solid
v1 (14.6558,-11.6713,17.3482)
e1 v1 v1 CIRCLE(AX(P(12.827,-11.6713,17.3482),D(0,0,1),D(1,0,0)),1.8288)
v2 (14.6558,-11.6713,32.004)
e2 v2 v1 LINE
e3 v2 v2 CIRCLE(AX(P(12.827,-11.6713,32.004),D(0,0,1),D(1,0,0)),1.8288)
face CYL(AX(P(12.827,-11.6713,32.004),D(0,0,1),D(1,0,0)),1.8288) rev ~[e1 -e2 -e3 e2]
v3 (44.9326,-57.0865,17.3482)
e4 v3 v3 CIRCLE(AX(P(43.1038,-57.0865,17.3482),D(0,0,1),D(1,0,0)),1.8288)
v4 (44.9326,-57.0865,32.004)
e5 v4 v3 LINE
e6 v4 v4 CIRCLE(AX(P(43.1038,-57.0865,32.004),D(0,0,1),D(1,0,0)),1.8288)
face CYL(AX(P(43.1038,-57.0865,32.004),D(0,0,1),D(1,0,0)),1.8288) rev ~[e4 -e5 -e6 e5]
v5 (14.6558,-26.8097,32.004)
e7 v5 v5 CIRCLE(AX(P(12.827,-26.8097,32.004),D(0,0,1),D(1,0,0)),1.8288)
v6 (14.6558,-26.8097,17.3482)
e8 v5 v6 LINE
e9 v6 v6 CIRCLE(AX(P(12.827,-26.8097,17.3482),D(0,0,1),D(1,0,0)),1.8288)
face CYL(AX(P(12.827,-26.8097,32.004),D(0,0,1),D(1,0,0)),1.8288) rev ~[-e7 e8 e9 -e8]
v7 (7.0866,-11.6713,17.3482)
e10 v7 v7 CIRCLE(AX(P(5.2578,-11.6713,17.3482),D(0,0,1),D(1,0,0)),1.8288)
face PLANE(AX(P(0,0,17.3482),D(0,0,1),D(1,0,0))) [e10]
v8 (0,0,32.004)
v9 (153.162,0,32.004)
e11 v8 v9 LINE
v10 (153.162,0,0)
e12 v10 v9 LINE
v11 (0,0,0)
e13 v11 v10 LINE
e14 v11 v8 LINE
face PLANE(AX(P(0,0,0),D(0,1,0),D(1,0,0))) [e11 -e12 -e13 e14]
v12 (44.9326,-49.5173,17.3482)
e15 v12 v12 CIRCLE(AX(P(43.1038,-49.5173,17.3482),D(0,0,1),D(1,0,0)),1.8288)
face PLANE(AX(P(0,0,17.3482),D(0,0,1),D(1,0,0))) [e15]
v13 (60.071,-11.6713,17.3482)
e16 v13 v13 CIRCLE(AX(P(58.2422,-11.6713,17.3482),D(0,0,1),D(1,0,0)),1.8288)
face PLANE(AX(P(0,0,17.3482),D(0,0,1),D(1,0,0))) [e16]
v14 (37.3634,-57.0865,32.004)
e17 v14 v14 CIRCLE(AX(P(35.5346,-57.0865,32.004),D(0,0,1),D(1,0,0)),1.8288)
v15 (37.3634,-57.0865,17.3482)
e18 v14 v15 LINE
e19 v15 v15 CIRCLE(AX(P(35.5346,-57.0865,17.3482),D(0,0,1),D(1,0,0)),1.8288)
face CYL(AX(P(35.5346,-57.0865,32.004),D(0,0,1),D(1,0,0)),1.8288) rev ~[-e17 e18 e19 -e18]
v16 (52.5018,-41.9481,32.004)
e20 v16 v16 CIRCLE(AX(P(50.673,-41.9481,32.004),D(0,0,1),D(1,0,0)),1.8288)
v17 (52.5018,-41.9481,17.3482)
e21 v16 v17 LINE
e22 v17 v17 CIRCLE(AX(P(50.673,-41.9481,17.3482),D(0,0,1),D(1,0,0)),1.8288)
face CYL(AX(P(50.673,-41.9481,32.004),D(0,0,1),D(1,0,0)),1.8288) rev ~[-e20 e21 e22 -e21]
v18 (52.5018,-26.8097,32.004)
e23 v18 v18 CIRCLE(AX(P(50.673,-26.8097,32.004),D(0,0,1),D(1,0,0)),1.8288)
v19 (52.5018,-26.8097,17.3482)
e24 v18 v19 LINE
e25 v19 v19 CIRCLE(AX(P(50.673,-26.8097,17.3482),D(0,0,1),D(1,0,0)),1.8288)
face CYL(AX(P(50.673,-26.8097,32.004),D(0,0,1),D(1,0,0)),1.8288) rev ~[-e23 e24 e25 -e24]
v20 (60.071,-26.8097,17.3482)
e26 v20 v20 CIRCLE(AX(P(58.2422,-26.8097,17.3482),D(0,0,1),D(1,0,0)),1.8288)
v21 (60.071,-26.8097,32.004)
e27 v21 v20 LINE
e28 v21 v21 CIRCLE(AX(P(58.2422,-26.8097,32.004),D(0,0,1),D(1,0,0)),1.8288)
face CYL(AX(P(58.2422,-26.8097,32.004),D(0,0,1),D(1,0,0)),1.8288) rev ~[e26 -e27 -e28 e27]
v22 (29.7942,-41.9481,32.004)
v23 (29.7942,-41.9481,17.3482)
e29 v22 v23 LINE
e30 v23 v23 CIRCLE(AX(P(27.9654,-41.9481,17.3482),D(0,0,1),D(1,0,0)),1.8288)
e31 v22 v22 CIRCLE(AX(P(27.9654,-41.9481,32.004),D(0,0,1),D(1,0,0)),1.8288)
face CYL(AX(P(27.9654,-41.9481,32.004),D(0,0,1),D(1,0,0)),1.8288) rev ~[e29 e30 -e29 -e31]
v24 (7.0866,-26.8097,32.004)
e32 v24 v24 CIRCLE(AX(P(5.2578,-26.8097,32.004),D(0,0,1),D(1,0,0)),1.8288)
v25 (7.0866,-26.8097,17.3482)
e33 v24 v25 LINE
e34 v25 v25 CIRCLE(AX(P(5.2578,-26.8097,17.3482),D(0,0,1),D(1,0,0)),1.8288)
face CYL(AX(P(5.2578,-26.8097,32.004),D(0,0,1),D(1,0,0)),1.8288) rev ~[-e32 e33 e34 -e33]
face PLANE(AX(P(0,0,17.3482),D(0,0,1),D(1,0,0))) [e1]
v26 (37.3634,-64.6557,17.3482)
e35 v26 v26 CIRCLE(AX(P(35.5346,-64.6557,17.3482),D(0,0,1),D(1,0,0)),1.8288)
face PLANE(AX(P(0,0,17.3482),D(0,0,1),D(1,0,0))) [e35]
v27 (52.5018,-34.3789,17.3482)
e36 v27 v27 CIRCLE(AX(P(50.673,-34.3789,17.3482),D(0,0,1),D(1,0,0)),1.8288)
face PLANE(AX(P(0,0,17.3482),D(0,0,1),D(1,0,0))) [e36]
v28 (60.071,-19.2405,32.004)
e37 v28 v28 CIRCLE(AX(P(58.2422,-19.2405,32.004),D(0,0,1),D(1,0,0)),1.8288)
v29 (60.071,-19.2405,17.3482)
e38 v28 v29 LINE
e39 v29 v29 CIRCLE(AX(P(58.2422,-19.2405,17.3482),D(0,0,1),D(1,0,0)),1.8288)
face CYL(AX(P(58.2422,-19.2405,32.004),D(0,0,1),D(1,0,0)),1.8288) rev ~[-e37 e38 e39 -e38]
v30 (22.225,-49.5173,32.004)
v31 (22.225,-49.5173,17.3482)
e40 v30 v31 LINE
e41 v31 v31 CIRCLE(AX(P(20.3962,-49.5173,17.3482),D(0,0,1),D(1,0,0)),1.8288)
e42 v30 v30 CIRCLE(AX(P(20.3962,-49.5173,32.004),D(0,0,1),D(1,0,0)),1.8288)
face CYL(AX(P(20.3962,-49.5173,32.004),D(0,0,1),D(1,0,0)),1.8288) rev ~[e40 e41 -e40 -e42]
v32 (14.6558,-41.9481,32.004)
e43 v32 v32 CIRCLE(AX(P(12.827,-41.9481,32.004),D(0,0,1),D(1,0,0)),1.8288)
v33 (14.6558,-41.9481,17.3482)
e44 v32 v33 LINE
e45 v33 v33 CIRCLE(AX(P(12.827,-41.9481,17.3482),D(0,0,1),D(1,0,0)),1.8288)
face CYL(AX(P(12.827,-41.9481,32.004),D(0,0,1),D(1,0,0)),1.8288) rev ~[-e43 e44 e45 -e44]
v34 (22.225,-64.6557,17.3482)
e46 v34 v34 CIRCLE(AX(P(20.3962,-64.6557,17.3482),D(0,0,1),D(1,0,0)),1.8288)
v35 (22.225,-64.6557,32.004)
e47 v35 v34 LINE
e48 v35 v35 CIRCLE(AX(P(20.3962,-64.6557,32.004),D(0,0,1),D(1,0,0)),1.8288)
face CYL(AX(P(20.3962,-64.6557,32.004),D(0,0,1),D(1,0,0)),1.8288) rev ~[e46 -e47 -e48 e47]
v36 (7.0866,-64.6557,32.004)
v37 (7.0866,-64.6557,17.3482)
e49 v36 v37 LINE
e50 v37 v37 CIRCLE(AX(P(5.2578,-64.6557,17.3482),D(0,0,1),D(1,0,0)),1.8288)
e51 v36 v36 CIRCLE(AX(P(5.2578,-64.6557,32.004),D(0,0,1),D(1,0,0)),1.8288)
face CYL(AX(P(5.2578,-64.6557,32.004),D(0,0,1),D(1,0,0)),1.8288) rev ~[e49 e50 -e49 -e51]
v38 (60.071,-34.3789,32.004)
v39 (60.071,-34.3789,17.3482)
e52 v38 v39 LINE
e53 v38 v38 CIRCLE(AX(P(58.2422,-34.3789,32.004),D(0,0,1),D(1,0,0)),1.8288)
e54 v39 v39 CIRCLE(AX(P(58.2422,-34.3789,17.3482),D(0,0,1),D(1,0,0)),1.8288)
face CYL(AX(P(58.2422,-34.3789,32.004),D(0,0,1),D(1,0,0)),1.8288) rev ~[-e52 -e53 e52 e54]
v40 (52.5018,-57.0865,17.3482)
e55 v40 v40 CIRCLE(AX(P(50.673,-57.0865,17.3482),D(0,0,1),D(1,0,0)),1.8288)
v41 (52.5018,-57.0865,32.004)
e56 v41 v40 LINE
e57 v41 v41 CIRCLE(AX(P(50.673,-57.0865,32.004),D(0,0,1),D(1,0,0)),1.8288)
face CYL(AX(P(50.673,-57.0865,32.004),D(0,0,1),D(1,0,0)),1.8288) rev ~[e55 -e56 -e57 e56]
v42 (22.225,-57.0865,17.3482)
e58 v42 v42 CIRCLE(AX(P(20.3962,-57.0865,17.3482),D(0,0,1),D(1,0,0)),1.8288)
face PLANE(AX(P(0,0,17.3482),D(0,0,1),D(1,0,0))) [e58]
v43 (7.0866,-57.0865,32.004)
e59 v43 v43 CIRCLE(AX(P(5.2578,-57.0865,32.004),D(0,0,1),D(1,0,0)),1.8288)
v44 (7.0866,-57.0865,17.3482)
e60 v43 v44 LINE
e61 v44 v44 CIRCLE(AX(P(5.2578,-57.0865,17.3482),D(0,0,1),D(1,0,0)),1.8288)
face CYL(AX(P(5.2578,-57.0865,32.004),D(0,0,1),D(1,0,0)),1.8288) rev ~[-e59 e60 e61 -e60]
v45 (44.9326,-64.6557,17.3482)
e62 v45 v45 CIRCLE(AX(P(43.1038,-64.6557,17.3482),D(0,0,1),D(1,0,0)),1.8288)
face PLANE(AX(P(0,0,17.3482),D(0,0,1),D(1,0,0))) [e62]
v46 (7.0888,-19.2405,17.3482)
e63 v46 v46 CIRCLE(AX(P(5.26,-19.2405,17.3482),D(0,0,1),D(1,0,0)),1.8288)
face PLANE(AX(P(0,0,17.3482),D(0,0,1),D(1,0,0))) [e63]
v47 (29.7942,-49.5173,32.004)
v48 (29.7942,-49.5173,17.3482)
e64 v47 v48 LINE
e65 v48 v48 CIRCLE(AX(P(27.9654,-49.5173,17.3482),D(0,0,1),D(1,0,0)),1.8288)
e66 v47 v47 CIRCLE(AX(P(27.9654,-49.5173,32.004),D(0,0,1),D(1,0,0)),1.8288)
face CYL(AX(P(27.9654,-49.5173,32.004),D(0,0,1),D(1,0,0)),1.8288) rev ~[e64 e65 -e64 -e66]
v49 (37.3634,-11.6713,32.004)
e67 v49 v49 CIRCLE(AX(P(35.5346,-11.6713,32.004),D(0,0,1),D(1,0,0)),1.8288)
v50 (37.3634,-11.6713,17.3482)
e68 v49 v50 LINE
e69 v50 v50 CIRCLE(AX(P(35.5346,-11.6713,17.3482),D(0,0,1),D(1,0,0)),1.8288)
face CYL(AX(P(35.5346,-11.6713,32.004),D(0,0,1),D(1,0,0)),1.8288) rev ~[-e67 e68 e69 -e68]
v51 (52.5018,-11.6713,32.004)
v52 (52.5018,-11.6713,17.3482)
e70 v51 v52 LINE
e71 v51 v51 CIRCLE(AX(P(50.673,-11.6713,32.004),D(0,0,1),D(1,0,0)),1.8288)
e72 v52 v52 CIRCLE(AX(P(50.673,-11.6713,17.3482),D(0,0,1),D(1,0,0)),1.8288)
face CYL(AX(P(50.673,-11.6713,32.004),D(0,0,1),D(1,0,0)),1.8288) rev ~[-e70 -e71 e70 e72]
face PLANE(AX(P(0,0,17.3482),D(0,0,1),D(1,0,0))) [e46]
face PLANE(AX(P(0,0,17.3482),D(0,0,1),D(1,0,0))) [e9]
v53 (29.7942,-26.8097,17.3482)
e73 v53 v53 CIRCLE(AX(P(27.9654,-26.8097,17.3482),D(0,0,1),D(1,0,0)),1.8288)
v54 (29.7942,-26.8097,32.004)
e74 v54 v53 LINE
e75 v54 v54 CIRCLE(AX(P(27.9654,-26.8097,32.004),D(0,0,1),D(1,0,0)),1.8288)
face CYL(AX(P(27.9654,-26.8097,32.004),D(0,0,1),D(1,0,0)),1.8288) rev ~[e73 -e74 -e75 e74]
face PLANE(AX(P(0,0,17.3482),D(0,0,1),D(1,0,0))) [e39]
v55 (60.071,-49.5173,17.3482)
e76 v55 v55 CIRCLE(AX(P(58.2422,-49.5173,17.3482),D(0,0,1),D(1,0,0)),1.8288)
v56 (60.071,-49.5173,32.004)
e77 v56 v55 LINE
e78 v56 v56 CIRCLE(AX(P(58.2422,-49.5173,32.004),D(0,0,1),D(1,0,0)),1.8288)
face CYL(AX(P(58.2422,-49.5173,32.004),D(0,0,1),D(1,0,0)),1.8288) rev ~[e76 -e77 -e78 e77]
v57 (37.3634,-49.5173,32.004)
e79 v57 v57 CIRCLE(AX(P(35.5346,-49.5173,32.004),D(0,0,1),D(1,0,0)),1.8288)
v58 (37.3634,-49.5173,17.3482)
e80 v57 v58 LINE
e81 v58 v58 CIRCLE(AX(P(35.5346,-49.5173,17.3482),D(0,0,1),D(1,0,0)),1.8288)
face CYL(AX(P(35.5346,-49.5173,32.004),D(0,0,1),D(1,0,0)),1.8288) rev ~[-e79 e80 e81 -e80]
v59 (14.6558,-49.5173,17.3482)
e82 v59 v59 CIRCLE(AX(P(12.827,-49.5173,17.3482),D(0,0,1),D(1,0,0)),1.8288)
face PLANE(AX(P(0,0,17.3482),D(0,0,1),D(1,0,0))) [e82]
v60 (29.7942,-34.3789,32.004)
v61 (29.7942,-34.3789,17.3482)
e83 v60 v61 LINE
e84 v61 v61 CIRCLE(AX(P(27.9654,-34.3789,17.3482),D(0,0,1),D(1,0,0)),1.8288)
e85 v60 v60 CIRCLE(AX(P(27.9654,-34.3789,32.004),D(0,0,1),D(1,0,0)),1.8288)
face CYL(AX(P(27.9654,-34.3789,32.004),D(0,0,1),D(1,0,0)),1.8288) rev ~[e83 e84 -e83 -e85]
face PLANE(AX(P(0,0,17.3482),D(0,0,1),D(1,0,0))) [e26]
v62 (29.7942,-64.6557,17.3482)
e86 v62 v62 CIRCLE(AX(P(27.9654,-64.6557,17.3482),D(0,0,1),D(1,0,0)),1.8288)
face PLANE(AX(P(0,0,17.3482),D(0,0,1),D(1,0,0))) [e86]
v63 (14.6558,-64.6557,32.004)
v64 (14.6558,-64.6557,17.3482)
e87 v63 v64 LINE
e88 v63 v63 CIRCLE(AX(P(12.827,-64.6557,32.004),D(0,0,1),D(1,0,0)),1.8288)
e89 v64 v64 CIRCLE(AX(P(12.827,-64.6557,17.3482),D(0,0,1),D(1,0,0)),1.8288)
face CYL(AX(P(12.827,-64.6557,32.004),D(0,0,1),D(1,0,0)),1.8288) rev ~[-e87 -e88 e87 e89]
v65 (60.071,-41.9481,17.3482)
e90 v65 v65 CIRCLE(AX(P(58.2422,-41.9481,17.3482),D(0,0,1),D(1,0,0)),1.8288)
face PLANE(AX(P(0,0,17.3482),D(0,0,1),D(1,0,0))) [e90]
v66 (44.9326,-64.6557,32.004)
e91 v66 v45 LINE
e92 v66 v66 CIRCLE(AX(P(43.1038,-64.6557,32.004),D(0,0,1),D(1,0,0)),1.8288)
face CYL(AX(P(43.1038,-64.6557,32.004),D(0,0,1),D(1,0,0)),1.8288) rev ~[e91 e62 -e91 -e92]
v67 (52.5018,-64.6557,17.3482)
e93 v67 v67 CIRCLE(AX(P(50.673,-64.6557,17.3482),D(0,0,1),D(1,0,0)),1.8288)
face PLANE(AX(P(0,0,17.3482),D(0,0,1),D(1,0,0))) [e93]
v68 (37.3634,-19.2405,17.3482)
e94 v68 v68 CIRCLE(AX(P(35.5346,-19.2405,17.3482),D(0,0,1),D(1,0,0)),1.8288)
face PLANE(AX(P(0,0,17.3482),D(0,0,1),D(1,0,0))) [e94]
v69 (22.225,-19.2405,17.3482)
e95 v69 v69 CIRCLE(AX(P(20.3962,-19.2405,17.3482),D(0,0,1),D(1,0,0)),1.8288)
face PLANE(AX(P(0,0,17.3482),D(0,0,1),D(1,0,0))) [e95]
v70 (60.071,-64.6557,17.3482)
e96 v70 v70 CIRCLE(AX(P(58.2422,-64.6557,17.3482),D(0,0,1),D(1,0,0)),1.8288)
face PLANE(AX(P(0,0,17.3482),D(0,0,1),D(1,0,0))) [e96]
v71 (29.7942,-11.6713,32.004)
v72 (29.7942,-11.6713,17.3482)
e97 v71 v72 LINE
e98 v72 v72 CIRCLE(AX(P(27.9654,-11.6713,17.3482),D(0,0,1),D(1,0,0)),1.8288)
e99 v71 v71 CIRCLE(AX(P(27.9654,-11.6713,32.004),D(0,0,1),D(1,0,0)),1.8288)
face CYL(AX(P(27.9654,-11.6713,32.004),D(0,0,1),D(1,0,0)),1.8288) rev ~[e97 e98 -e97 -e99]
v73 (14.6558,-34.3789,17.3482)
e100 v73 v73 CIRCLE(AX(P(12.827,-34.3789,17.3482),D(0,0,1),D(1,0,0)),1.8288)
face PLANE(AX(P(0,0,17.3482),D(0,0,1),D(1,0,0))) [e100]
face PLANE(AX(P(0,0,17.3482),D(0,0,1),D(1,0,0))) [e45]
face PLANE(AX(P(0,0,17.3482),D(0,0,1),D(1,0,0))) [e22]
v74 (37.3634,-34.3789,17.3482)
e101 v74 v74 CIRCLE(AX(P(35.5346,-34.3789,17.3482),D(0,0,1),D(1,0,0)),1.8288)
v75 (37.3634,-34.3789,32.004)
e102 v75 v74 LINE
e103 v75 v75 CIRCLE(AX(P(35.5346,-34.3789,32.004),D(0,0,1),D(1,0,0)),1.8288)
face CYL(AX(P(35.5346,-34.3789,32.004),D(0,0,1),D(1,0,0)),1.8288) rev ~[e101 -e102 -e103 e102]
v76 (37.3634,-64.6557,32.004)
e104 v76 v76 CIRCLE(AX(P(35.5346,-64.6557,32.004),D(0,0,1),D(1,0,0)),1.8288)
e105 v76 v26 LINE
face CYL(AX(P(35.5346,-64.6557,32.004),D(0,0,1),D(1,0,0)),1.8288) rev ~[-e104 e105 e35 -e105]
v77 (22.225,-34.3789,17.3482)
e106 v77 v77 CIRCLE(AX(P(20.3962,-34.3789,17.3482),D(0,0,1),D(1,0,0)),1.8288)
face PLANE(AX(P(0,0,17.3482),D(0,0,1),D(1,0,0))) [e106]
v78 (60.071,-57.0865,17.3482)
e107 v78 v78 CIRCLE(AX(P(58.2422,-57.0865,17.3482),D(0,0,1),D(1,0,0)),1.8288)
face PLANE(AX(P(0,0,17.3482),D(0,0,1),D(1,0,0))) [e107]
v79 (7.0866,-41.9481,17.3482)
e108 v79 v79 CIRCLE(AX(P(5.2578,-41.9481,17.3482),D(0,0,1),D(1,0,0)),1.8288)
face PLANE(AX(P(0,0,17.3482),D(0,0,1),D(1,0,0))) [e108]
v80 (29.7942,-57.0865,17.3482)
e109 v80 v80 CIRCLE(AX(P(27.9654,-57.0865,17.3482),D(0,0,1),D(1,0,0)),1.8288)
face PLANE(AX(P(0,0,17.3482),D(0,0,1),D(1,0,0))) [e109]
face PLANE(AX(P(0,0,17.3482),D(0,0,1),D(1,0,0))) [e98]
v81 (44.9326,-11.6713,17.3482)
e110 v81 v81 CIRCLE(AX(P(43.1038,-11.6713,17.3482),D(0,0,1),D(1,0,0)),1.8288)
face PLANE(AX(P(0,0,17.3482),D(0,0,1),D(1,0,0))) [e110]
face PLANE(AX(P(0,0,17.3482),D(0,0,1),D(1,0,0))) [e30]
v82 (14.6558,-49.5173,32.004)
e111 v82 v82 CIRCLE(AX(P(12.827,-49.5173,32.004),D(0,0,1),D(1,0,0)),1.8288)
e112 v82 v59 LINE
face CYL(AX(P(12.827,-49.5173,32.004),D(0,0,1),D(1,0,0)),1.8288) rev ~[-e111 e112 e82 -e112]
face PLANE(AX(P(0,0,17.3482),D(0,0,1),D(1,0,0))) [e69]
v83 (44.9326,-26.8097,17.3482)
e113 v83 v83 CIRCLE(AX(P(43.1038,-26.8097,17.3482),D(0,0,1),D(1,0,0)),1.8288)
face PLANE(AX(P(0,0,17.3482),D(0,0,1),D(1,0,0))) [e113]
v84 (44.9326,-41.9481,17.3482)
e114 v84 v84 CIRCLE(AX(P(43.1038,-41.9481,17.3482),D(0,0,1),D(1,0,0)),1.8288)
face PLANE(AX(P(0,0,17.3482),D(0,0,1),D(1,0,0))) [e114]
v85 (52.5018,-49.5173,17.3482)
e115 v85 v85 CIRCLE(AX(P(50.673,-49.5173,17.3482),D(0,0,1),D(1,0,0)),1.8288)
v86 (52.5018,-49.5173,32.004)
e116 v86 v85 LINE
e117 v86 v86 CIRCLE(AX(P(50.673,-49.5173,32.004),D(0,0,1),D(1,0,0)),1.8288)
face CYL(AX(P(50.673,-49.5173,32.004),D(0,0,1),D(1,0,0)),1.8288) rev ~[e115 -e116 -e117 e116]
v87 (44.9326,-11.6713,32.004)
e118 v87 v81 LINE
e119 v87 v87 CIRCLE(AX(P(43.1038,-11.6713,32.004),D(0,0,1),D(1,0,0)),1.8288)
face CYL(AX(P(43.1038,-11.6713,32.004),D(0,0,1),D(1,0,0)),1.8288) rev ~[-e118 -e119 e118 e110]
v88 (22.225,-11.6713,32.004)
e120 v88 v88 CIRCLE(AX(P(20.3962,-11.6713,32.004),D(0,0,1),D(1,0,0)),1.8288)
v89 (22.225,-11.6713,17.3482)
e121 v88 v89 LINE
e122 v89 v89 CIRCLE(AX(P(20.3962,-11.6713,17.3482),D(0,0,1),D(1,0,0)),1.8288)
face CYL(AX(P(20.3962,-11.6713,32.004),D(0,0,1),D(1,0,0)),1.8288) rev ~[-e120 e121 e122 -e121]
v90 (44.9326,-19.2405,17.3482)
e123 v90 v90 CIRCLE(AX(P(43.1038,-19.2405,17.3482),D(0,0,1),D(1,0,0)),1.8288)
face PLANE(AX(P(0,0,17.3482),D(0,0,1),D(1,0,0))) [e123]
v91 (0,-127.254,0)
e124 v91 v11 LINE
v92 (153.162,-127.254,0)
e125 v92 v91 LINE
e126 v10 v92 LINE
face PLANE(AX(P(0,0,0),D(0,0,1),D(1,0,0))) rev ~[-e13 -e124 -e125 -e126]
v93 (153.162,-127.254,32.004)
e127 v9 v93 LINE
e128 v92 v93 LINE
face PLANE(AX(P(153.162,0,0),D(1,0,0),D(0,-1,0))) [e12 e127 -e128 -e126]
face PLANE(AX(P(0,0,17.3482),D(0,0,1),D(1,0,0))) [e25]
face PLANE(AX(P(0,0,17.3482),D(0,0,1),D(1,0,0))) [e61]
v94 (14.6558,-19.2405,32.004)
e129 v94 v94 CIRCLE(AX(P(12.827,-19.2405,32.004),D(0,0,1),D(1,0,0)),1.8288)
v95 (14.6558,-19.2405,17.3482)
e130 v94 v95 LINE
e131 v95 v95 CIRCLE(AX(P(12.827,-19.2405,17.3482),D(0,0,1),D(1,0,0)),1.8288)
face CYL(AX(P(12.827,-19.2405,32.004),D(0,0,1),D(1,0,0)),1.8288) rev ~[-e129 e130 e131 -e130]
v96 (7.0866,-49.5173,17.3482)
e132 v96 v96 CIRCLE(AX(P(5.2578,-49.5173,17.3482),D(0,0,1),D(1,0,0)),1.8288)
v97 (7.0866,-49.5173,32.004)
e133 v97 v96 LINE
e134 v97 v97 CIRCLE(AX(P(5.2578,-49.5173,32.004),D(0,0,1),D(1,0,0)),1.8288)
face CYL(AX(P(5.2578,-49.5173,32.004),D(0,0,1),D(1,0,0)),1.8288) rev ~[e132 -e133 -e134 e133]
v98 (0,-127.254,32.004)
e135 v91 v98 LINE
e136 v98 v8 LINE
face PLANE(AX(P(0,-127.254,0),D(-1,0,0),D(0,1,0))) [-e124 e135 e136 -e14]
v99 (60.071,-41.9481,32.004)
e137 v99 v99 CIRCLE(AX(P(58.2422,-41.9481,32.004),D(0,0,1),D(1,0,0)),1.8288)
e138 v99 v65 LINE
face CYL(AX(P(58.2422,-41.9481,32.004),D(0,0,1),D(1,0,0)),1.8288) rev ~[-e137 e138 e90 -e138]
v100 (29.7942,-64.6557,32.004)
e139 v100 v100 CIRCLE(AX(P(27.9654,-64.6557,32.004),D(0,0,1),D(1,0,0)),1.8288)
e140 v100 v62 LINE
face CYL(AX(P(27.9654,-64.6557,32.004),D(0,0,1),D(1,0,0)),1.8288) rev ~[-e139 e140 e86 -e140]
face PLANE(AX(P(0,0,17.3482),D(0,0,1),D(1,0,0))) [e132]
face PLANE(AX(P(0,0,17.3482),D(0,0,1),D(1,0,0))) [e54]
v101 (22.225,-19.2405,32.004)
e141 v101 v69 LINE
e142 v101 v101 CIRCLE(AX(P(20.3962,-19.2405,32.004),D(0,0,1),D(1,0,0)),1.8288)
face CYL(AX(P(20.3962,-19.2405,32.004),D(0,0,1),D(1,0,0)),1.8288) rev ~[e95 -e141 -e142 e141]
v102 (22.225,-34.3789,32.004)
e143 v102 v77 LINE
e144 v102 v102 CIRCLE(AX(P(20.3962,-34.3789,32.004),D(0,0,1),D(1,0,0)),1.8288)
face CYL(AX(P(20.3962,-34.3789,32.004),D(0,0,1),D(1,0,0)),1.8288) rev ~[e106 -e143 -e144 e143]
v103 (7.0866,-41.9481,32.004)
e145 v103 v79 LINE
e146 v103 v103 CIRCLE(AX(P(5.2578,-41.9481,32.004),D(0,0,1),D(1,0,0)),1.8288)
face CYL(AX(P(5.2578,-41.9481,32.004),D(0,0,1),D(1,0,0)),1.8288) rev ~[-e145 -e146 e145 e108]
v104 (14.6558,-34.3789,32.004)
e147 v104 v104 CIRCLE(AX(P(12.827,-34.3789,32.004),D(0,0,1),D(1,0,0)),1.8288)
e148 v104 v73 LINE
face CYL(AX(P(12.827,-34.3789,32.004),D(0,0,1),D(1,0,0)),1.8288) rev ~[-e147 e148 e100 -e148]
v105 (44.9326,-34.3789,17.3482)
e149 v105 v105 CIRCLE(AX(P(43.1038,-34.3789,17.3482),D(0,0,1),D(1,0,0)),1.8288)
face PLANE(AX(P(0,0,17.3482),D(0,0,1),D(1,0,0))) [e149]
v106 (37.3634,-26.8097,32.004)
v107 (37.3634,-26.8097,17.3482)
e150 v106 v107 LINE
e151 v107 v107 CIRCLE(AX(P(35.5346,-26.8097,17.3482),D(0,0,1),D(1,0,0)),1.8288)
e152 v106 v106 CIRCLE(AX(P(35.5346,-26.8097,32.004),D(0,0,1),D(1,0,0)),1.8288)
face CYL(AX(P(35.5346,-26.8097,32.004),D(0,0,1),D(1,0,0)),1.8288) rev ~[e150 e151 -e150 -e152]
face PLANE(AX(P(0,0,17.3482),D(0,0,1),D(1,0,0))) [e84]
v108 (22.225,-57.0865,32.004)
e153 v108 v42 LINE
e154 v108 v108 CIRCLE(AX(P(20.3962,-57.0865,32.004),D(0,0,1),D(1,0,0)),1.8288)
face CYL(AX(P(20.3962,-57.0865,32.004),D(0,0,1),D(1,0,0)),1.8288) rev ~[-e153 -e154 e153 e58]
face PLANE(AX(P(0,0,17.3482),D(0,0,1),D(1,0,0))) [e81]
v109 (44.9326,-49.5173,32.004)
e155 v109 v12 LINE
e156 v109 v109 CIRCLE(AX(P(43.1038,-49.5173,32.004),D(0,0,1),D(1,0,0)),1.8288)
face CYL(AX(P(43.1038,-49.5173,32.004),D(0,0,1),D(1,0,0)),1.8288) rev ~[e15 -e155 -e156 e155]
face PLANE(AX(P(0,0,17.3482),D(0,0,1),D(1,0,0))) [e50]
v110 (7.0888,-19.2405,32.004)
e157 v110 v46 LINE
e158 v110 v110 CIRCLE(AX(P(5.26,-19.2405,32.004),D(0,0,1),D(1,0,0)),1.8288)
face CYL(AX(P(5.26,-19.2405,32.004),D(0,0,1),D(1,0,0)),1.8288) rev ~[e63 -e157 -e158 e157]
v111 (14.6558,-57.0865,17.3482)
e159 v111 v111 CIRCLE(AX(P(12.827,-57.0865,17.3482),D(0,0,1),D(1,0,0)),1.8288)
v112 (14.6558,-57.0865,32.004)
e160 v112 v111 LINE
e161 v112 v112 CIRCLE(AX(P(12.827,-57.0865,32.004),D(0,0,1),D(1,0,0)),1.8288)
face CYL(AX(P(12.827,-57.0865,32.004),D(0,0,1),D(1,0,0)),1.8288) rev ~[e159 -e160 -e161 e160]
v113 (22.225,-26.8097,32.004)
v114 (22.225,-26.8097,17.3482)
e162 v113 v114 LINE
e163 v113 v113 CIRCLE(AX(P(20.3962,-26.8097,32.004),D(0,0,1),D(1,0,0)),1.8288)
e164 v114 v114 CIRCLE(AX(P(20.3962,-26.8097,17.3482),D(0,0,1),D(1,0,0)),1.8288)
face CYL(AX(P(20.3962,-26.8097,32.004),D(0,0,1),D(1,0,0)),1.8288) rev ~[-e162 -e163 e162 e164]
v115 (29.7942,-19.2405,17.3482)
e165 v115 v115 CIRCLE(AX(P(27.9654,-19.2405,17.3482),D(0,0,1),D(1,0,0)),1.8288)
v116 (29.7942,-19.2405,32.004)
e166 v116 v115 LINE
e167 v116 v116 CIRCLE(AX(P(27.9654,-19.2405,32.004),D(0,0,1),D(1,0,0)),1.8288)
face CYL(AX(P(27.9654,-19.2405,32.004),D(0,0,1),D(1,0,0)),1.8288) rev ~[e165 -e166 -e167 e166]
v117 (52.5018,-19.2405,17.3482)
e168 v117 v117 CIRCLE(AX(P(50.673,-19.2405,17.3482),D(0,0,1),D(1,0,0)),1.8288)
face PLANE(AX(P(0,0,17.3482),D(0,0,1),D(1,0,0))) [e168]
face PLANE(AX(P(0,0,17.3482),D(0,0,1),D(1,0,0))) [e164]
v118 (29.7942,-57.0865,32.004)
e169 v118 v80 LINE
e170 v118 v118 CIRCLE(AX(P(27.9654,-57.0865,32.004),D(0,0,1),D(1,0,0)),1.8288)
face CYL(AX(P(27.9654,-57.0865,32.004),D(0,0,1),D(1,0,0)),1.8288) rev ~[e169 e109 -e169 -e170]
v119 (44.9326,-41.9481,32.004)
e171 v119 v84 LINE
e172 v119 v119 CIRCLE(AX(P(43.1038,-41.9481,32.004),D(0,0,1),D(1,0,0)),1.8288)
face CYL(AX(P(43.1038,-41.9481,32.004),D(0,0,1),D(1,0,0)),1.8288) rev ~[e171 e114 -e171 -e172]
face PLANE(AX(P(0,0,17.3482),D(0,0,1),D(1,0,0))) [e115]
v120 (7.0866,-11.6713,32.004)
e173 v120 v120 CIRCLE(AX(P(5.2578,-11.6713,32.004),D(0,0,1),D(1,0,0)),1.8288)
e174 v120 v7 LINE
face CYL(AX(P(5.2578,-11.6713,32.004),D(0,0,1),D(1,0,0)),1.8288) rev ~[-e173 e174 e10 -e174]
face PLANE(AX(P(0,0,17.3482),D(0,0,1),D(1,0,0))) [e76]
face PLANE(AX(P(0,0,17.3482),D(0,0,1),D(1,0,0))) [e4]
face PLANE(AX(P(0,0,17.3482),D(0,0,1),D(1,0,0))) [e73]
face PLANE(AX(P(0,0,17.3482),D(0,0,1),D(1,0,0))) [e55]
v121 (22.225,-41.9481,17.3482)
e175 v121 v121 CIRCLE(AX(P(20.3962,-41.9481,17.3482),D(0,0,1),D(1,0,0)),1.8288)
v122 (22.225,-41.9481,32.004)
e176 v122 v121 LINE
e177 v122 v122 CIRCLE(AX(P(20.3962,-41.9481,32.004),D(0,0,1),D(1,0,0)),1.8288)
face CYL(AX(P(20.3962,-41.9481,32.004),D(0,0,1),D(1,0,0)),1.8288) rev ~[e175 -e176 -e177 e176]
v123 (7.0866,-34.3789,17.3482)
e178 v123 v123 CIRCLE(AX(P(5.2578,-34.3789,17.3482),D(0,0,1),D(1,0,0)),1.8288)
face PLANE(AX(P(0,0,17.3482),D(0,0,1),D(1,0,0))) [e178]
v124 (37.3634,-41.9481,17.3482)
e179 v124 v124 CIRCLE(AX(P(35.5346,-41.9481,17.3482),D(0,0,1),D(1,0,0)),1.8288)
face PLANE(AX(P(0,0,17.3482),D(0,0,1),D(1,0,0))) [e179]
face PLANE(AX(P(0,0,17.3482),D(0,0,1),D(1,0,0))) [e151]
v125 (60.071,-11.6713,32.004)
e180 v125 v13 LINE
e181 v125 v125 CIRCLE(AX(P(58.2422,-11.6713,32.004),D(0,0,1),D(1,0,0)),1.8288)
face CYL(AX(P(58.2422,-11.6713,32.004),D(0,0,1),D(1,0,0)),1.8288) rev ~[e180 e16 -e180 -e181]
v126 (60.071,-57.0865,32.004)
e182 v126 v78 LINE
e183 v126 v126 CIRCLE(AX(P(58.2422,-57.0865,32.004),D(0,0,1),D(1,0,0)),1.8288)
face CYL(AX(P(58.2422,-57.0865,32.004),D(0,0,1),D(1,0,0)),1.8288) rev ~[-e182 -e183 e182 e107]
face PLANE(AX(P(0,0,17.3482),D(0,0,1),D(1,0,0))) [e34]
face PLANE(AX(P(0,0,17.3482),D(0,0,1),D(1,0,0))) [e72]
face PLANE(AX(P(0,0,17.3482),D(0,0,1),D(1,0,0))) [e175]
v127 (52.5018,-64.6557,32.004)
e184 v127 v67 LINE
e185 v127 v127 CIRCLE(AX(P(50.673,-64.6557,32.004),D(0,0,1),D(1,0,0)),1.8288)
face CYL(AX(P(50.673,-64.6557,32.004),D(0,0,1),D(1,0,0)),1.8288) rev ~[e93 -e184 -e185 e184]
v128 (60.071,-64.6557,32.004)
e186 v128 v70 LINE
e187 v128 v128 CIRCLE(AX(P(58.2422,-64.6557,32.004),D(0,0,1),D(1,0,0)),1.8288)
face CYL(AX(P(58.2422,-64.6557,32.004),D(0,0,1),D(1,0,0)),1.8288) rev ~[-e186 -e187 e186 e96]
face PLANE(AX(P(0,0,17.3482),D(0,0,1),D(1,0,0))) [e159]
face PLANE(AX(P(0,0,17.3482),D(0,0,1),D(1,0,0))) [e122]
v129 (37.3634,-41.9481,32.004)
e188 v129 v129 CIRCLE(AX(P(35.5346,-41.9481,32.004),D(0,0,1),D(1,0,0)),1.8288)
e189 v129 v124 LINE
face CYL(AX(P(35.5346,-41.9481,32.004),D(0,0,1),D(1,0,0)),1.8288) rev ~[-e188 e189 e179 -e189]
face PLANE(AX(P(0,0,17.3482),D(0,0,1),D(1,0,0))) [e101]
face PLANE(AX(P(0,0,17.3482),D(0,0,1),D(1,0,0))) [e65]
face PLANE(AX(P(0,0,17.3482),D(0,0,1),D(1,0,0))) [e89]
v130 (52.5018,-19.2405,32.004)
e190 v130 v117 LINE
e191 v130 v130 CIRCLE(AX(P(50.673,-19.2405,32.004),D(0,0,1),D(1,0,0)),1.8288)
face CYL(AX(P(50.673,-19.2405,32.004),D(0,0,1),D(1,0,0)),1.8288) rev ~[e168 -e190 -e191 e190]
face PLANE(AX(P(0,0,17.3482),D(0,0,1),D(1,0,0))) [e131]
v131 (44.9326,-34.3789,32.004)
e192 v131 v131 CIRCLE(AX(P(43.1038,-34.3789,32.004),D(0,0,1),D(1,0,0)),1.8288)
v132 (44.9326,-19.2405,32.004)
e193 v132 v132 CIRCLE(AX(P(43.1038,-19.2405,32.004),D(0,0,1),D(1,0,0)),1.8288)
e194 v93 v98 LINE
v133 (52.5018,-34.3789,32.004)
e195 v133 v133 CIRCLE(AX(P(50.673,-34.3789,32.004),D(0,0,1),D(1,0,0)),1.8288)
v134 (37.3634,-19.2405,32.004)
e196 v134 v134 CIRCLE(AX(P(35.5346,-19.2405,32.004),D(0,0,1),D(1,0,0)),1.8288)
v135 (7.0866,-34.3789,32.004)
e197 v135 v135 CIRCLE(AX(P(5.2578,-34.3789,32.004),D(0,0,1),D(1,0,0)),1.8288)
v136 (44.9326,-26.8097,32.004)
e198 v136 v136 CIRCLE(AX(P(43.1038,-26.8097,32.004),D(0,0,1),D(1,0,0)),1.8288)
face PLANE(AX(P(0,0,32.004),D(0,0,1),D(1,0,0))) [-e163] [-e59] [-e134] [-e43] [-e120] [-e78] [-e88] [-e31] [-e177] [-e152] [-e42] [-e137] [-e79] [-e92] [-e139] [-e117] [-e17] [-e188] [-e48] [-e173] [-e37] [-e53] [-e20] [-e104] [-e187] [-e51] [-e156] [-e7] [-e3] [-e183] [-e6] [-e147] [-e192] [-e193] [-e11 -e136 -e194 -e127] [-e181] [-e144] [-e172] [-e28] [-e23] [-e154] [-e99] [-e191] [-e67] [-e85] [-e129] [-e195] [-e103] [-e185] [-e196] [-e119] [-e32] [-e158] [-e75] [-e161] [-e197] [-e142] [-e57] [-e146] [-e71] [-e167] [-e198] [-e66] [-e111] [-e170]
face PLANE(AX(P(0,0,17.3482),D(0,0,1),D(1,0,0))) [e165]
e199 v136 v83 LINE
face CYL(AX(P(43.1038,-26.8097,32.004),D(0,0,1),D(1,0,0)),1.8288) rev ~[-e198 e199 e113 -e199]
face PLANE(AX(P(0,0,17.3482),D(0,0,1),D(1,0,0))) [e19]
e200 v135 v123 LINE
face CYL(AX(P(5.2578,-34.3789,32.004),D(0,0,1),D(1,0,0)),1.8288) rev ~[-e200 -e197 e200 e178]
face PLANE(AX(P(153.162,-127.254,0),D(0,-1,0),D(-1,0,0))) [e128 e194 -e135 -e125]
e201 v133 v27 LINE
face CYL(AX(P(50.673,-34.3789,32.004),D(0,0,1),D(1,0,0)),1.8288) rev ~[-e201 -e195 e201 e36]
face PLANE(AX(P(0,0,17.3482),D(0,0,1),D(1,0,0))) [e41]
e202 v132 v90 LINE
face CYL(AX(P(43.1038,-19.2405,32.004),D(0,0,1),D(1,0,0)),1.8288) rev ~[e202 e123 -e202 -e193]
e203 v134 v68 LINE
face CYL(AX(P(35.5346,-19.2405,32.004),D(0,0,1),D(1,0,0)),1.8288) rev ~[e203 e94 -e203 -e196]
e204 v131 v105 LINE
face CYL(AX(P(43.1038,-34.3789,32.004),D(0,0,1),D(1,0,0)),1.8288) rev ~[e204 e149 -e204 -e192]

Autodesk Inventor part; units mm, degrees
ref_plane "YZ Plane" through (0, 0, 0) normal (1, 0, 0) x (0, 1, 0)
ref_plane "XZ Plane" through (0, 0, 0) normal (0, 1, 0) x (-1, 0, 0)
ref_plane "XY Plane" through (0, 0, 0) normal (0, 0, 1) x (1, 0, 0)
sketch "Sketch1" plane through (0, 0, 0) normal (0, 0, 1) x (1, 0, 0)
  line L0 (0, 0) -> (153.162, 0)
  line L1 (153.162, 0) -> (153.162, -127.254)
  line L2 (153.162, -127.254) -> (0, -127.254)
  line L3 (0, -127.254) -> (0, 0)
  dimension "d0" = 153.162
  dimension "d1" = 127.254
extrude "Extrusion1" add sketch "Sketch1" along normal blind 32.004
sketch "Sketch2" plane through (0, 0, 32.004) normal (0, 0, 1) x (1, 0, 0)
  line L0 (0, 0) -> (0, -127.254) projected
  line L1 (153.162, 0) -> (0, 0) projected
  circle A0 centre (5.2578, -64.6557) radius 1.8288
  circle A1 centre (5.2578, -57.0865) radius 1.8288
  circle A2 centre (12.827, -57.0865) radius 1.8288
  circle A3 centre (12.827, -64.6557) radius 1.8288
  circle A4 centre (12.827, -49.5173) radius 1.8288
  circle A5 centre (5.2578, -49.5173) radius 1.8288
  circle A6 centre (12.827, -41.9481) radius 1.8288
  circle A7 centre (5.2578, -41.9481) radius 1.8288
  circle A8 centre (20.3962, -64.6557) radius 1.8288
  circle A9 centre (20.3962, -57.0865) radius 1.8288
  circle A10 centre (20.3962, -49.5173) radius 1.8288
  circle A11 centre (5.2578, -34.3789) radius 1.8288
  circle A12 centre (12.827, -34.3789) radius 1.8288
  circle A13 centre (12.827, -26.8097) radius 1.8288
  circle A14 centre (12.827, -19.2405) radius 1.8288
  circle A15 centre (5.26, -19.2405) radius 1.8288
  circle A16 centre (5.2578, -26.8097) radius 1.8288
  circle A17 centre (27.9654, -64.6557) radius 1.8288
  circle A18 centre (27.9654, -57.0865) radius 1.8288
  circle A19 centre (27.9654, -49.5173) radius 1.8288
  circle A20 centre (27.9654, -41.9481) radius 1.8288
  circle A21 centre (27.9654, -34.3789) radius 1.8288
  circle A22 centre (27.9654, -26.8097) radius 1.8288
  circle A23 centre (35.5346, -64.6557) radius 1.8288
  circle A24 centre (35.5346, -57.0865) radius 1.8288
  circle A25 centre (35.5346, -49.5173) radius 1.8288
  circle A26 centre (35.5346, -41.9481) radius 1.8288
  circle A27 centre (35.5346, -34.3789) radius 1.8288
  circle A28 centre (35.5346, -26.8097) radius 1.8288
  circle A29 centre (35.5346, -19.2405) radius 1.8288
  circle A30 centre (27.9654, -19.2405) radius 1.8288
  circle A31 centre (20.3962, -19.2405) radius 1.8288
  circle A32 centre (20.3962, -26.8097) radius 1.8288
  circle A33 centre (20.3962, -34.3789) radius 1.8288
  circle A34 centre (20.3962, -11.6713) radius 1.8288
  circle A35 centre (27.9654, -11.6713) radius 1.8288
  circle A36 centre (35.5346, -11.6713) radius 1.8288
  circle A37 centre (43.1038, -11.6713) radius 1.8288
  circle A38 centre (43.1038, -19.2405) radius 1.8288
  circle A39 centre (43.1038, -26.8097) radius 1.8288
  circle A40 centre (43.1038, -34.3789) radius 1.8288
  circle A41 centre (43.1038, -41.9481) radius 1.8288
  circle A42 centre (43.1038, -49.5173) radius 1.8288
  circle A43 centre (43.1038, -57.0865) radius 1.8288
  circle A44 centre (43.1038, -64.6557) radius 1.8288
  circle A45 centre (50.673, -64.6557) radius 1.8288
  circle A46 centre (58.2422, -64.6557) radius 1.8288
  circle A47 centre (50.673, -57.0865) radius 1.8288
  circle A48 centre (58.2422, -57.0865) radius 1.8288
  circle A49 centre (50.673, -49.5173) radius 1.8288
  circle A50 centre (58.2422, -49.5173) radius 1.8288
  circle A51 centre (58.2422, -41.9481) radius 1.8288
  circle A52 centre (50.673, -41.9481) radius 1.8288
  circle A53 centre (50.673, -34.3789) radius 1.8288
  circle A54 centre (58.2422, -34.3789) radius 1.8288
  circle A55 centre (58.2422, -26.8097) radius 1.8288
  circle A56 centre (50.673, -26.8097) radius 1.8288
  circle A57 centre (50.673, -19.2405) radius 1.8288
  circle A58 centre (58.2422, -19.2405) radius 1.8288
  circle A59 centre (58.2422, -11.6713) radius 1.8288
  circle A60 centre (50.673, -11.6713) radius 1.8288
  circle A61 centre (5.2578, -26.8097) radius 1.8288
  circle A62 centre (5.2578, -11.6713) radius 1.8288
  circle A63 centre (12.827, -11.6713) radius 1.8288
  circle A64 centre (20.3962, -41.9481) radius 1.8288
  circle A65 centre (5.2578, -64.6557) radius 3.175
  circle A66 centre (5.2578, -57.0865) radius 3.175
  circle A67 centre (5.2578, -49.5173) radius 3.175
  circle A68 centre (12.827, -64.6557) radius 3.175
  circle A69 centre (12.827, -57.0865) radius 3.175
  circle A70 centre (12.827, -49.5173) radius 3.175
  circle A71 centre (12.827, -41.9481) radius 3.175
  circle A72 centre (5.2578, -41.9481) radius 3.175
  circle A73 centre (5.2578, -34.3789) radius 3.175
  circle A74 centre (12.827, -34.3789) radius 3.175
  circle A75 centre (20.3962, -64.6557) radius 3.175
  circle A76 centre (20.3962, -57.0865) radius 3.175
  circle A77 centre (20.3962, -49.5173) radius 3.175
  circle A78 centre (20.3962, -41.9481) radius 3.175
  circle A79 centre (20.3962, -34.3789) radius 3.175
  circle A80 centre (20.3962, -26.8097) radius 3.175
  circle A81 centre (12.827, -26.8097) radius 3.175
  circle A82 centre (5.2578, -26.8097) radius 3.175
  circle A83 centre (27.9654, -64.6557) radius 3.175
  circle A84 centre (27.9654, -57.0865) radius 3.175
  circle A85 centre (27.9654, -49.5173) radius 3.175
  circle A86 centre (27.9654, -41.9481) radius 3.175
  circle A87 centre (27.9654, -34.3789) radius 3.175
  circle A88 centre (27.9654, -26.8097) radius 3.175
  circle A89 centre (35.5346, -64.6557) radius 3.175
  circle A90 centre (35.5346, -57.0865) radius 3.175
  circle A91 centre (35.5346, -49.5173) radius 3.175
  circle A92 centre (35.5346, -41.9481) radius 3.175
  circle A93 centre (35.5346, -34.3789) radius 3.175
  circle A94 centre (35.5346, -26.8097) radius 3.175
  circle A95 centre (43.1038, -34.3789) radius 3.175
  circle A96 centre (43.1038, -41.9481) radius 3.175
  circle A97 centre (43.1038, -26.8097) radius 3.175
  circle A98 centre (43.1038, -49.5173) radius 3.175
  circle A99 centre (43.1038, -57.0865) radius 3.175
  circle A100 centre (43.1038, -64.6557) radius 3.175
  circle A101 centre (50.673, -64.6557) radius 3.175
  circle A102 centre (50.673, -57.0865) radius 3.175
  circle A103 centre (50.673, -49.5173) radius 3.175
  circle A104 centre (50.673, -41.9481) radius 3.175
  circle A105 centre (50.673, -34.3789) radius 3.175
  circle A106 centre (58.2422, -64.6557) radius 3.175
  circle A107 centre (58.2422, -57.0865) radius 3.175
  circle A108 centre (58.2422, -49.5173) radius 3.175
  circle A109 centre (58.2422, -41.9481) radius 3.175
  circle A110 centre (58.2422, -34.3789) radius 3.175
  circle A111 centre (58.2422, -26.8097) radius 3.175
  circle A112 centre (50.673, -26.8097) radius 3.175
  circle A113 centre (58.2422, -19.2405) radius 3.175
  circle A114 centre (50.673, -19.2405) radius 3.175
  circle A115 centre (43.1038, -19.2405) radius 3.175
  circle A116 centre (35.5346, -19.2405) radius 3.175
  circle A117 centre (27.9654, -19.2405) radius 3.175
  circle A118 centre (20.3962, -19.2405) radius 3.175
  circle A119 centre (12.827, -19.2405) radius 3.175
  circle A120 centre (5.26, -19.2405) radius 3.175
  circle A121 centre (5.2578, -11.6713) radius 3.175
  circle A122 centre (12.827, -11.6713) radius 3.175
  circle A123 centre (20.3962, -11.6713) radius 3.175
  circle A124 centre (27.9654, -11.6713) radius 3.175
  circle A125 centre (35.5346, -11.6713) radius 3.175
  circle A126 centre (43.1038, -11.6713) radius 3.175
  circle A127 centre (50.673, -11.6713) radius 3.175
  circle A128 centre (58.2422, -11.6713) radius 3.175
  dimension "d4" = 5.2578
  dimension "d5" = 11.6713
  dimension "d6" = 7.5692
  dimension "d7" = 5.26
  dimension "d8" = 7.5692
  dimension "d9" = 5.2578
  dimension "d10" = 7.5692
  dimension "d11" = 7.5692
  dimension "d12" = 5.2578
  dimension "d13" = 7.5692
  dimension "d14" = 7.5692
  dimension "d15" = 7.5692
  dimension "d16" = 7.5692
  dimension "d17" = 7.5692
  dimension "d18" = 7.5692
  dimension "d19" = 7.5692
  dimension "d20" = 7.5692
  dimension "d21" = 7.5692
  dimension "d22" = 7.5692
  dimension "d23" = 3.6576
  dimension "d26" = 3.6576
  dimension "d27" = 3.6576
  dimension "d28" = 3.6576
  dimension "d29" = 3.6576
  dimension "d30" = 3.6576
  dimension "d31" = 3.6576
  dimension "d32" = 3.6576
  dimension "d33" = 3.6576
  dimension "d34" = 3.6576
  dimension "d35" = 3.6576
  dimension "d36" = 3.6576
  dimension "d37" = 3.6576
  dimension "d38" = 3.6576
  dimension "d39" = 3.6576
  dimension "d40" = 3.6576
  dimension "d41" = 3.6576
  dimension "d42" = 3.6576
  dimension "d43" = 3.6576
  dimension "d44" = 3.6576
  dimension "d45" = 3.6576
  dimension "d46" = 3.6576
  dimension "d47" = 3.6576
  dimension "d48" = 3.6576
  dimension "d49" = 3.6576
  dimension "d50" = 3.6576
  dimension "d51" = 3.6576
  dimension "d52" = 3.6576
  dimension "d53" = 3.6576
  dimension "d54" = 3.6576
  dimension "d55" = 3.6576
  dimension "d56" = 3.6576
  dimension "d57" = 3.6576
  dimension "d58" = 3.6576
  dimension "d59" = 3.6576
  dimension "d60" = 3.6576
  dimension "d61" = 3.6576
  dimension "d62" = 3.6576
  dimension "d63" = 3.6576
  dimension "d64" = 3.6576
  dimension "d65" = 3.6576
  dimension "d66" = 3.6576
  dimension "d67" = 3.6576
  dimension "d68" = 3.6576
  dimension "d69" = 3.6576
extrude "Extrusion2" cut sketch "Sketch2" against normal blind 14.6558 contours A0
extrude "Extrusion3" cut sketch "Sketch2" against normal blind 14.6558 contours A0 | A1 | A2 | A3 | A4 | A5 | A6 | A7 | A8 | A9 | A10 | A11 | A12 | A13 | A14 | A15 | A16 | A17 | A18 | A19 | A20 | A21 | A22 | A23 | A24 | A25 | A26 | A27 | A28 | A29 | A30 | A31 | A32 | A33 | A34 | A35 | A36 | A37 | A38 | A39 | A40 | A41 | A42 | A43 | A44 | A45 | A46 | A47 | A48 | A49 | A50 | A51 | A52 | A53 | A54 | A55 | A56 | A57 | A58 | A59 | A60 | A62 | A63 | A64
sketch "Sketch3" plane through (12.827, -49.5173, 17.3482) normal (0, 0, 1) x (1, 0, 0)
  circle A0 centre (-6.5853, 36.1219) radius 5.8342
  circle A1 centre (-7.5692, 37.846) radius 1.8288 projected
  circle A2 centre (-7.5692, 37.846) radius 3.175
  point P0 (-12.827, 49.5173)
  dimension "d92" = 6.35
properties part number "thermocylcer block"
